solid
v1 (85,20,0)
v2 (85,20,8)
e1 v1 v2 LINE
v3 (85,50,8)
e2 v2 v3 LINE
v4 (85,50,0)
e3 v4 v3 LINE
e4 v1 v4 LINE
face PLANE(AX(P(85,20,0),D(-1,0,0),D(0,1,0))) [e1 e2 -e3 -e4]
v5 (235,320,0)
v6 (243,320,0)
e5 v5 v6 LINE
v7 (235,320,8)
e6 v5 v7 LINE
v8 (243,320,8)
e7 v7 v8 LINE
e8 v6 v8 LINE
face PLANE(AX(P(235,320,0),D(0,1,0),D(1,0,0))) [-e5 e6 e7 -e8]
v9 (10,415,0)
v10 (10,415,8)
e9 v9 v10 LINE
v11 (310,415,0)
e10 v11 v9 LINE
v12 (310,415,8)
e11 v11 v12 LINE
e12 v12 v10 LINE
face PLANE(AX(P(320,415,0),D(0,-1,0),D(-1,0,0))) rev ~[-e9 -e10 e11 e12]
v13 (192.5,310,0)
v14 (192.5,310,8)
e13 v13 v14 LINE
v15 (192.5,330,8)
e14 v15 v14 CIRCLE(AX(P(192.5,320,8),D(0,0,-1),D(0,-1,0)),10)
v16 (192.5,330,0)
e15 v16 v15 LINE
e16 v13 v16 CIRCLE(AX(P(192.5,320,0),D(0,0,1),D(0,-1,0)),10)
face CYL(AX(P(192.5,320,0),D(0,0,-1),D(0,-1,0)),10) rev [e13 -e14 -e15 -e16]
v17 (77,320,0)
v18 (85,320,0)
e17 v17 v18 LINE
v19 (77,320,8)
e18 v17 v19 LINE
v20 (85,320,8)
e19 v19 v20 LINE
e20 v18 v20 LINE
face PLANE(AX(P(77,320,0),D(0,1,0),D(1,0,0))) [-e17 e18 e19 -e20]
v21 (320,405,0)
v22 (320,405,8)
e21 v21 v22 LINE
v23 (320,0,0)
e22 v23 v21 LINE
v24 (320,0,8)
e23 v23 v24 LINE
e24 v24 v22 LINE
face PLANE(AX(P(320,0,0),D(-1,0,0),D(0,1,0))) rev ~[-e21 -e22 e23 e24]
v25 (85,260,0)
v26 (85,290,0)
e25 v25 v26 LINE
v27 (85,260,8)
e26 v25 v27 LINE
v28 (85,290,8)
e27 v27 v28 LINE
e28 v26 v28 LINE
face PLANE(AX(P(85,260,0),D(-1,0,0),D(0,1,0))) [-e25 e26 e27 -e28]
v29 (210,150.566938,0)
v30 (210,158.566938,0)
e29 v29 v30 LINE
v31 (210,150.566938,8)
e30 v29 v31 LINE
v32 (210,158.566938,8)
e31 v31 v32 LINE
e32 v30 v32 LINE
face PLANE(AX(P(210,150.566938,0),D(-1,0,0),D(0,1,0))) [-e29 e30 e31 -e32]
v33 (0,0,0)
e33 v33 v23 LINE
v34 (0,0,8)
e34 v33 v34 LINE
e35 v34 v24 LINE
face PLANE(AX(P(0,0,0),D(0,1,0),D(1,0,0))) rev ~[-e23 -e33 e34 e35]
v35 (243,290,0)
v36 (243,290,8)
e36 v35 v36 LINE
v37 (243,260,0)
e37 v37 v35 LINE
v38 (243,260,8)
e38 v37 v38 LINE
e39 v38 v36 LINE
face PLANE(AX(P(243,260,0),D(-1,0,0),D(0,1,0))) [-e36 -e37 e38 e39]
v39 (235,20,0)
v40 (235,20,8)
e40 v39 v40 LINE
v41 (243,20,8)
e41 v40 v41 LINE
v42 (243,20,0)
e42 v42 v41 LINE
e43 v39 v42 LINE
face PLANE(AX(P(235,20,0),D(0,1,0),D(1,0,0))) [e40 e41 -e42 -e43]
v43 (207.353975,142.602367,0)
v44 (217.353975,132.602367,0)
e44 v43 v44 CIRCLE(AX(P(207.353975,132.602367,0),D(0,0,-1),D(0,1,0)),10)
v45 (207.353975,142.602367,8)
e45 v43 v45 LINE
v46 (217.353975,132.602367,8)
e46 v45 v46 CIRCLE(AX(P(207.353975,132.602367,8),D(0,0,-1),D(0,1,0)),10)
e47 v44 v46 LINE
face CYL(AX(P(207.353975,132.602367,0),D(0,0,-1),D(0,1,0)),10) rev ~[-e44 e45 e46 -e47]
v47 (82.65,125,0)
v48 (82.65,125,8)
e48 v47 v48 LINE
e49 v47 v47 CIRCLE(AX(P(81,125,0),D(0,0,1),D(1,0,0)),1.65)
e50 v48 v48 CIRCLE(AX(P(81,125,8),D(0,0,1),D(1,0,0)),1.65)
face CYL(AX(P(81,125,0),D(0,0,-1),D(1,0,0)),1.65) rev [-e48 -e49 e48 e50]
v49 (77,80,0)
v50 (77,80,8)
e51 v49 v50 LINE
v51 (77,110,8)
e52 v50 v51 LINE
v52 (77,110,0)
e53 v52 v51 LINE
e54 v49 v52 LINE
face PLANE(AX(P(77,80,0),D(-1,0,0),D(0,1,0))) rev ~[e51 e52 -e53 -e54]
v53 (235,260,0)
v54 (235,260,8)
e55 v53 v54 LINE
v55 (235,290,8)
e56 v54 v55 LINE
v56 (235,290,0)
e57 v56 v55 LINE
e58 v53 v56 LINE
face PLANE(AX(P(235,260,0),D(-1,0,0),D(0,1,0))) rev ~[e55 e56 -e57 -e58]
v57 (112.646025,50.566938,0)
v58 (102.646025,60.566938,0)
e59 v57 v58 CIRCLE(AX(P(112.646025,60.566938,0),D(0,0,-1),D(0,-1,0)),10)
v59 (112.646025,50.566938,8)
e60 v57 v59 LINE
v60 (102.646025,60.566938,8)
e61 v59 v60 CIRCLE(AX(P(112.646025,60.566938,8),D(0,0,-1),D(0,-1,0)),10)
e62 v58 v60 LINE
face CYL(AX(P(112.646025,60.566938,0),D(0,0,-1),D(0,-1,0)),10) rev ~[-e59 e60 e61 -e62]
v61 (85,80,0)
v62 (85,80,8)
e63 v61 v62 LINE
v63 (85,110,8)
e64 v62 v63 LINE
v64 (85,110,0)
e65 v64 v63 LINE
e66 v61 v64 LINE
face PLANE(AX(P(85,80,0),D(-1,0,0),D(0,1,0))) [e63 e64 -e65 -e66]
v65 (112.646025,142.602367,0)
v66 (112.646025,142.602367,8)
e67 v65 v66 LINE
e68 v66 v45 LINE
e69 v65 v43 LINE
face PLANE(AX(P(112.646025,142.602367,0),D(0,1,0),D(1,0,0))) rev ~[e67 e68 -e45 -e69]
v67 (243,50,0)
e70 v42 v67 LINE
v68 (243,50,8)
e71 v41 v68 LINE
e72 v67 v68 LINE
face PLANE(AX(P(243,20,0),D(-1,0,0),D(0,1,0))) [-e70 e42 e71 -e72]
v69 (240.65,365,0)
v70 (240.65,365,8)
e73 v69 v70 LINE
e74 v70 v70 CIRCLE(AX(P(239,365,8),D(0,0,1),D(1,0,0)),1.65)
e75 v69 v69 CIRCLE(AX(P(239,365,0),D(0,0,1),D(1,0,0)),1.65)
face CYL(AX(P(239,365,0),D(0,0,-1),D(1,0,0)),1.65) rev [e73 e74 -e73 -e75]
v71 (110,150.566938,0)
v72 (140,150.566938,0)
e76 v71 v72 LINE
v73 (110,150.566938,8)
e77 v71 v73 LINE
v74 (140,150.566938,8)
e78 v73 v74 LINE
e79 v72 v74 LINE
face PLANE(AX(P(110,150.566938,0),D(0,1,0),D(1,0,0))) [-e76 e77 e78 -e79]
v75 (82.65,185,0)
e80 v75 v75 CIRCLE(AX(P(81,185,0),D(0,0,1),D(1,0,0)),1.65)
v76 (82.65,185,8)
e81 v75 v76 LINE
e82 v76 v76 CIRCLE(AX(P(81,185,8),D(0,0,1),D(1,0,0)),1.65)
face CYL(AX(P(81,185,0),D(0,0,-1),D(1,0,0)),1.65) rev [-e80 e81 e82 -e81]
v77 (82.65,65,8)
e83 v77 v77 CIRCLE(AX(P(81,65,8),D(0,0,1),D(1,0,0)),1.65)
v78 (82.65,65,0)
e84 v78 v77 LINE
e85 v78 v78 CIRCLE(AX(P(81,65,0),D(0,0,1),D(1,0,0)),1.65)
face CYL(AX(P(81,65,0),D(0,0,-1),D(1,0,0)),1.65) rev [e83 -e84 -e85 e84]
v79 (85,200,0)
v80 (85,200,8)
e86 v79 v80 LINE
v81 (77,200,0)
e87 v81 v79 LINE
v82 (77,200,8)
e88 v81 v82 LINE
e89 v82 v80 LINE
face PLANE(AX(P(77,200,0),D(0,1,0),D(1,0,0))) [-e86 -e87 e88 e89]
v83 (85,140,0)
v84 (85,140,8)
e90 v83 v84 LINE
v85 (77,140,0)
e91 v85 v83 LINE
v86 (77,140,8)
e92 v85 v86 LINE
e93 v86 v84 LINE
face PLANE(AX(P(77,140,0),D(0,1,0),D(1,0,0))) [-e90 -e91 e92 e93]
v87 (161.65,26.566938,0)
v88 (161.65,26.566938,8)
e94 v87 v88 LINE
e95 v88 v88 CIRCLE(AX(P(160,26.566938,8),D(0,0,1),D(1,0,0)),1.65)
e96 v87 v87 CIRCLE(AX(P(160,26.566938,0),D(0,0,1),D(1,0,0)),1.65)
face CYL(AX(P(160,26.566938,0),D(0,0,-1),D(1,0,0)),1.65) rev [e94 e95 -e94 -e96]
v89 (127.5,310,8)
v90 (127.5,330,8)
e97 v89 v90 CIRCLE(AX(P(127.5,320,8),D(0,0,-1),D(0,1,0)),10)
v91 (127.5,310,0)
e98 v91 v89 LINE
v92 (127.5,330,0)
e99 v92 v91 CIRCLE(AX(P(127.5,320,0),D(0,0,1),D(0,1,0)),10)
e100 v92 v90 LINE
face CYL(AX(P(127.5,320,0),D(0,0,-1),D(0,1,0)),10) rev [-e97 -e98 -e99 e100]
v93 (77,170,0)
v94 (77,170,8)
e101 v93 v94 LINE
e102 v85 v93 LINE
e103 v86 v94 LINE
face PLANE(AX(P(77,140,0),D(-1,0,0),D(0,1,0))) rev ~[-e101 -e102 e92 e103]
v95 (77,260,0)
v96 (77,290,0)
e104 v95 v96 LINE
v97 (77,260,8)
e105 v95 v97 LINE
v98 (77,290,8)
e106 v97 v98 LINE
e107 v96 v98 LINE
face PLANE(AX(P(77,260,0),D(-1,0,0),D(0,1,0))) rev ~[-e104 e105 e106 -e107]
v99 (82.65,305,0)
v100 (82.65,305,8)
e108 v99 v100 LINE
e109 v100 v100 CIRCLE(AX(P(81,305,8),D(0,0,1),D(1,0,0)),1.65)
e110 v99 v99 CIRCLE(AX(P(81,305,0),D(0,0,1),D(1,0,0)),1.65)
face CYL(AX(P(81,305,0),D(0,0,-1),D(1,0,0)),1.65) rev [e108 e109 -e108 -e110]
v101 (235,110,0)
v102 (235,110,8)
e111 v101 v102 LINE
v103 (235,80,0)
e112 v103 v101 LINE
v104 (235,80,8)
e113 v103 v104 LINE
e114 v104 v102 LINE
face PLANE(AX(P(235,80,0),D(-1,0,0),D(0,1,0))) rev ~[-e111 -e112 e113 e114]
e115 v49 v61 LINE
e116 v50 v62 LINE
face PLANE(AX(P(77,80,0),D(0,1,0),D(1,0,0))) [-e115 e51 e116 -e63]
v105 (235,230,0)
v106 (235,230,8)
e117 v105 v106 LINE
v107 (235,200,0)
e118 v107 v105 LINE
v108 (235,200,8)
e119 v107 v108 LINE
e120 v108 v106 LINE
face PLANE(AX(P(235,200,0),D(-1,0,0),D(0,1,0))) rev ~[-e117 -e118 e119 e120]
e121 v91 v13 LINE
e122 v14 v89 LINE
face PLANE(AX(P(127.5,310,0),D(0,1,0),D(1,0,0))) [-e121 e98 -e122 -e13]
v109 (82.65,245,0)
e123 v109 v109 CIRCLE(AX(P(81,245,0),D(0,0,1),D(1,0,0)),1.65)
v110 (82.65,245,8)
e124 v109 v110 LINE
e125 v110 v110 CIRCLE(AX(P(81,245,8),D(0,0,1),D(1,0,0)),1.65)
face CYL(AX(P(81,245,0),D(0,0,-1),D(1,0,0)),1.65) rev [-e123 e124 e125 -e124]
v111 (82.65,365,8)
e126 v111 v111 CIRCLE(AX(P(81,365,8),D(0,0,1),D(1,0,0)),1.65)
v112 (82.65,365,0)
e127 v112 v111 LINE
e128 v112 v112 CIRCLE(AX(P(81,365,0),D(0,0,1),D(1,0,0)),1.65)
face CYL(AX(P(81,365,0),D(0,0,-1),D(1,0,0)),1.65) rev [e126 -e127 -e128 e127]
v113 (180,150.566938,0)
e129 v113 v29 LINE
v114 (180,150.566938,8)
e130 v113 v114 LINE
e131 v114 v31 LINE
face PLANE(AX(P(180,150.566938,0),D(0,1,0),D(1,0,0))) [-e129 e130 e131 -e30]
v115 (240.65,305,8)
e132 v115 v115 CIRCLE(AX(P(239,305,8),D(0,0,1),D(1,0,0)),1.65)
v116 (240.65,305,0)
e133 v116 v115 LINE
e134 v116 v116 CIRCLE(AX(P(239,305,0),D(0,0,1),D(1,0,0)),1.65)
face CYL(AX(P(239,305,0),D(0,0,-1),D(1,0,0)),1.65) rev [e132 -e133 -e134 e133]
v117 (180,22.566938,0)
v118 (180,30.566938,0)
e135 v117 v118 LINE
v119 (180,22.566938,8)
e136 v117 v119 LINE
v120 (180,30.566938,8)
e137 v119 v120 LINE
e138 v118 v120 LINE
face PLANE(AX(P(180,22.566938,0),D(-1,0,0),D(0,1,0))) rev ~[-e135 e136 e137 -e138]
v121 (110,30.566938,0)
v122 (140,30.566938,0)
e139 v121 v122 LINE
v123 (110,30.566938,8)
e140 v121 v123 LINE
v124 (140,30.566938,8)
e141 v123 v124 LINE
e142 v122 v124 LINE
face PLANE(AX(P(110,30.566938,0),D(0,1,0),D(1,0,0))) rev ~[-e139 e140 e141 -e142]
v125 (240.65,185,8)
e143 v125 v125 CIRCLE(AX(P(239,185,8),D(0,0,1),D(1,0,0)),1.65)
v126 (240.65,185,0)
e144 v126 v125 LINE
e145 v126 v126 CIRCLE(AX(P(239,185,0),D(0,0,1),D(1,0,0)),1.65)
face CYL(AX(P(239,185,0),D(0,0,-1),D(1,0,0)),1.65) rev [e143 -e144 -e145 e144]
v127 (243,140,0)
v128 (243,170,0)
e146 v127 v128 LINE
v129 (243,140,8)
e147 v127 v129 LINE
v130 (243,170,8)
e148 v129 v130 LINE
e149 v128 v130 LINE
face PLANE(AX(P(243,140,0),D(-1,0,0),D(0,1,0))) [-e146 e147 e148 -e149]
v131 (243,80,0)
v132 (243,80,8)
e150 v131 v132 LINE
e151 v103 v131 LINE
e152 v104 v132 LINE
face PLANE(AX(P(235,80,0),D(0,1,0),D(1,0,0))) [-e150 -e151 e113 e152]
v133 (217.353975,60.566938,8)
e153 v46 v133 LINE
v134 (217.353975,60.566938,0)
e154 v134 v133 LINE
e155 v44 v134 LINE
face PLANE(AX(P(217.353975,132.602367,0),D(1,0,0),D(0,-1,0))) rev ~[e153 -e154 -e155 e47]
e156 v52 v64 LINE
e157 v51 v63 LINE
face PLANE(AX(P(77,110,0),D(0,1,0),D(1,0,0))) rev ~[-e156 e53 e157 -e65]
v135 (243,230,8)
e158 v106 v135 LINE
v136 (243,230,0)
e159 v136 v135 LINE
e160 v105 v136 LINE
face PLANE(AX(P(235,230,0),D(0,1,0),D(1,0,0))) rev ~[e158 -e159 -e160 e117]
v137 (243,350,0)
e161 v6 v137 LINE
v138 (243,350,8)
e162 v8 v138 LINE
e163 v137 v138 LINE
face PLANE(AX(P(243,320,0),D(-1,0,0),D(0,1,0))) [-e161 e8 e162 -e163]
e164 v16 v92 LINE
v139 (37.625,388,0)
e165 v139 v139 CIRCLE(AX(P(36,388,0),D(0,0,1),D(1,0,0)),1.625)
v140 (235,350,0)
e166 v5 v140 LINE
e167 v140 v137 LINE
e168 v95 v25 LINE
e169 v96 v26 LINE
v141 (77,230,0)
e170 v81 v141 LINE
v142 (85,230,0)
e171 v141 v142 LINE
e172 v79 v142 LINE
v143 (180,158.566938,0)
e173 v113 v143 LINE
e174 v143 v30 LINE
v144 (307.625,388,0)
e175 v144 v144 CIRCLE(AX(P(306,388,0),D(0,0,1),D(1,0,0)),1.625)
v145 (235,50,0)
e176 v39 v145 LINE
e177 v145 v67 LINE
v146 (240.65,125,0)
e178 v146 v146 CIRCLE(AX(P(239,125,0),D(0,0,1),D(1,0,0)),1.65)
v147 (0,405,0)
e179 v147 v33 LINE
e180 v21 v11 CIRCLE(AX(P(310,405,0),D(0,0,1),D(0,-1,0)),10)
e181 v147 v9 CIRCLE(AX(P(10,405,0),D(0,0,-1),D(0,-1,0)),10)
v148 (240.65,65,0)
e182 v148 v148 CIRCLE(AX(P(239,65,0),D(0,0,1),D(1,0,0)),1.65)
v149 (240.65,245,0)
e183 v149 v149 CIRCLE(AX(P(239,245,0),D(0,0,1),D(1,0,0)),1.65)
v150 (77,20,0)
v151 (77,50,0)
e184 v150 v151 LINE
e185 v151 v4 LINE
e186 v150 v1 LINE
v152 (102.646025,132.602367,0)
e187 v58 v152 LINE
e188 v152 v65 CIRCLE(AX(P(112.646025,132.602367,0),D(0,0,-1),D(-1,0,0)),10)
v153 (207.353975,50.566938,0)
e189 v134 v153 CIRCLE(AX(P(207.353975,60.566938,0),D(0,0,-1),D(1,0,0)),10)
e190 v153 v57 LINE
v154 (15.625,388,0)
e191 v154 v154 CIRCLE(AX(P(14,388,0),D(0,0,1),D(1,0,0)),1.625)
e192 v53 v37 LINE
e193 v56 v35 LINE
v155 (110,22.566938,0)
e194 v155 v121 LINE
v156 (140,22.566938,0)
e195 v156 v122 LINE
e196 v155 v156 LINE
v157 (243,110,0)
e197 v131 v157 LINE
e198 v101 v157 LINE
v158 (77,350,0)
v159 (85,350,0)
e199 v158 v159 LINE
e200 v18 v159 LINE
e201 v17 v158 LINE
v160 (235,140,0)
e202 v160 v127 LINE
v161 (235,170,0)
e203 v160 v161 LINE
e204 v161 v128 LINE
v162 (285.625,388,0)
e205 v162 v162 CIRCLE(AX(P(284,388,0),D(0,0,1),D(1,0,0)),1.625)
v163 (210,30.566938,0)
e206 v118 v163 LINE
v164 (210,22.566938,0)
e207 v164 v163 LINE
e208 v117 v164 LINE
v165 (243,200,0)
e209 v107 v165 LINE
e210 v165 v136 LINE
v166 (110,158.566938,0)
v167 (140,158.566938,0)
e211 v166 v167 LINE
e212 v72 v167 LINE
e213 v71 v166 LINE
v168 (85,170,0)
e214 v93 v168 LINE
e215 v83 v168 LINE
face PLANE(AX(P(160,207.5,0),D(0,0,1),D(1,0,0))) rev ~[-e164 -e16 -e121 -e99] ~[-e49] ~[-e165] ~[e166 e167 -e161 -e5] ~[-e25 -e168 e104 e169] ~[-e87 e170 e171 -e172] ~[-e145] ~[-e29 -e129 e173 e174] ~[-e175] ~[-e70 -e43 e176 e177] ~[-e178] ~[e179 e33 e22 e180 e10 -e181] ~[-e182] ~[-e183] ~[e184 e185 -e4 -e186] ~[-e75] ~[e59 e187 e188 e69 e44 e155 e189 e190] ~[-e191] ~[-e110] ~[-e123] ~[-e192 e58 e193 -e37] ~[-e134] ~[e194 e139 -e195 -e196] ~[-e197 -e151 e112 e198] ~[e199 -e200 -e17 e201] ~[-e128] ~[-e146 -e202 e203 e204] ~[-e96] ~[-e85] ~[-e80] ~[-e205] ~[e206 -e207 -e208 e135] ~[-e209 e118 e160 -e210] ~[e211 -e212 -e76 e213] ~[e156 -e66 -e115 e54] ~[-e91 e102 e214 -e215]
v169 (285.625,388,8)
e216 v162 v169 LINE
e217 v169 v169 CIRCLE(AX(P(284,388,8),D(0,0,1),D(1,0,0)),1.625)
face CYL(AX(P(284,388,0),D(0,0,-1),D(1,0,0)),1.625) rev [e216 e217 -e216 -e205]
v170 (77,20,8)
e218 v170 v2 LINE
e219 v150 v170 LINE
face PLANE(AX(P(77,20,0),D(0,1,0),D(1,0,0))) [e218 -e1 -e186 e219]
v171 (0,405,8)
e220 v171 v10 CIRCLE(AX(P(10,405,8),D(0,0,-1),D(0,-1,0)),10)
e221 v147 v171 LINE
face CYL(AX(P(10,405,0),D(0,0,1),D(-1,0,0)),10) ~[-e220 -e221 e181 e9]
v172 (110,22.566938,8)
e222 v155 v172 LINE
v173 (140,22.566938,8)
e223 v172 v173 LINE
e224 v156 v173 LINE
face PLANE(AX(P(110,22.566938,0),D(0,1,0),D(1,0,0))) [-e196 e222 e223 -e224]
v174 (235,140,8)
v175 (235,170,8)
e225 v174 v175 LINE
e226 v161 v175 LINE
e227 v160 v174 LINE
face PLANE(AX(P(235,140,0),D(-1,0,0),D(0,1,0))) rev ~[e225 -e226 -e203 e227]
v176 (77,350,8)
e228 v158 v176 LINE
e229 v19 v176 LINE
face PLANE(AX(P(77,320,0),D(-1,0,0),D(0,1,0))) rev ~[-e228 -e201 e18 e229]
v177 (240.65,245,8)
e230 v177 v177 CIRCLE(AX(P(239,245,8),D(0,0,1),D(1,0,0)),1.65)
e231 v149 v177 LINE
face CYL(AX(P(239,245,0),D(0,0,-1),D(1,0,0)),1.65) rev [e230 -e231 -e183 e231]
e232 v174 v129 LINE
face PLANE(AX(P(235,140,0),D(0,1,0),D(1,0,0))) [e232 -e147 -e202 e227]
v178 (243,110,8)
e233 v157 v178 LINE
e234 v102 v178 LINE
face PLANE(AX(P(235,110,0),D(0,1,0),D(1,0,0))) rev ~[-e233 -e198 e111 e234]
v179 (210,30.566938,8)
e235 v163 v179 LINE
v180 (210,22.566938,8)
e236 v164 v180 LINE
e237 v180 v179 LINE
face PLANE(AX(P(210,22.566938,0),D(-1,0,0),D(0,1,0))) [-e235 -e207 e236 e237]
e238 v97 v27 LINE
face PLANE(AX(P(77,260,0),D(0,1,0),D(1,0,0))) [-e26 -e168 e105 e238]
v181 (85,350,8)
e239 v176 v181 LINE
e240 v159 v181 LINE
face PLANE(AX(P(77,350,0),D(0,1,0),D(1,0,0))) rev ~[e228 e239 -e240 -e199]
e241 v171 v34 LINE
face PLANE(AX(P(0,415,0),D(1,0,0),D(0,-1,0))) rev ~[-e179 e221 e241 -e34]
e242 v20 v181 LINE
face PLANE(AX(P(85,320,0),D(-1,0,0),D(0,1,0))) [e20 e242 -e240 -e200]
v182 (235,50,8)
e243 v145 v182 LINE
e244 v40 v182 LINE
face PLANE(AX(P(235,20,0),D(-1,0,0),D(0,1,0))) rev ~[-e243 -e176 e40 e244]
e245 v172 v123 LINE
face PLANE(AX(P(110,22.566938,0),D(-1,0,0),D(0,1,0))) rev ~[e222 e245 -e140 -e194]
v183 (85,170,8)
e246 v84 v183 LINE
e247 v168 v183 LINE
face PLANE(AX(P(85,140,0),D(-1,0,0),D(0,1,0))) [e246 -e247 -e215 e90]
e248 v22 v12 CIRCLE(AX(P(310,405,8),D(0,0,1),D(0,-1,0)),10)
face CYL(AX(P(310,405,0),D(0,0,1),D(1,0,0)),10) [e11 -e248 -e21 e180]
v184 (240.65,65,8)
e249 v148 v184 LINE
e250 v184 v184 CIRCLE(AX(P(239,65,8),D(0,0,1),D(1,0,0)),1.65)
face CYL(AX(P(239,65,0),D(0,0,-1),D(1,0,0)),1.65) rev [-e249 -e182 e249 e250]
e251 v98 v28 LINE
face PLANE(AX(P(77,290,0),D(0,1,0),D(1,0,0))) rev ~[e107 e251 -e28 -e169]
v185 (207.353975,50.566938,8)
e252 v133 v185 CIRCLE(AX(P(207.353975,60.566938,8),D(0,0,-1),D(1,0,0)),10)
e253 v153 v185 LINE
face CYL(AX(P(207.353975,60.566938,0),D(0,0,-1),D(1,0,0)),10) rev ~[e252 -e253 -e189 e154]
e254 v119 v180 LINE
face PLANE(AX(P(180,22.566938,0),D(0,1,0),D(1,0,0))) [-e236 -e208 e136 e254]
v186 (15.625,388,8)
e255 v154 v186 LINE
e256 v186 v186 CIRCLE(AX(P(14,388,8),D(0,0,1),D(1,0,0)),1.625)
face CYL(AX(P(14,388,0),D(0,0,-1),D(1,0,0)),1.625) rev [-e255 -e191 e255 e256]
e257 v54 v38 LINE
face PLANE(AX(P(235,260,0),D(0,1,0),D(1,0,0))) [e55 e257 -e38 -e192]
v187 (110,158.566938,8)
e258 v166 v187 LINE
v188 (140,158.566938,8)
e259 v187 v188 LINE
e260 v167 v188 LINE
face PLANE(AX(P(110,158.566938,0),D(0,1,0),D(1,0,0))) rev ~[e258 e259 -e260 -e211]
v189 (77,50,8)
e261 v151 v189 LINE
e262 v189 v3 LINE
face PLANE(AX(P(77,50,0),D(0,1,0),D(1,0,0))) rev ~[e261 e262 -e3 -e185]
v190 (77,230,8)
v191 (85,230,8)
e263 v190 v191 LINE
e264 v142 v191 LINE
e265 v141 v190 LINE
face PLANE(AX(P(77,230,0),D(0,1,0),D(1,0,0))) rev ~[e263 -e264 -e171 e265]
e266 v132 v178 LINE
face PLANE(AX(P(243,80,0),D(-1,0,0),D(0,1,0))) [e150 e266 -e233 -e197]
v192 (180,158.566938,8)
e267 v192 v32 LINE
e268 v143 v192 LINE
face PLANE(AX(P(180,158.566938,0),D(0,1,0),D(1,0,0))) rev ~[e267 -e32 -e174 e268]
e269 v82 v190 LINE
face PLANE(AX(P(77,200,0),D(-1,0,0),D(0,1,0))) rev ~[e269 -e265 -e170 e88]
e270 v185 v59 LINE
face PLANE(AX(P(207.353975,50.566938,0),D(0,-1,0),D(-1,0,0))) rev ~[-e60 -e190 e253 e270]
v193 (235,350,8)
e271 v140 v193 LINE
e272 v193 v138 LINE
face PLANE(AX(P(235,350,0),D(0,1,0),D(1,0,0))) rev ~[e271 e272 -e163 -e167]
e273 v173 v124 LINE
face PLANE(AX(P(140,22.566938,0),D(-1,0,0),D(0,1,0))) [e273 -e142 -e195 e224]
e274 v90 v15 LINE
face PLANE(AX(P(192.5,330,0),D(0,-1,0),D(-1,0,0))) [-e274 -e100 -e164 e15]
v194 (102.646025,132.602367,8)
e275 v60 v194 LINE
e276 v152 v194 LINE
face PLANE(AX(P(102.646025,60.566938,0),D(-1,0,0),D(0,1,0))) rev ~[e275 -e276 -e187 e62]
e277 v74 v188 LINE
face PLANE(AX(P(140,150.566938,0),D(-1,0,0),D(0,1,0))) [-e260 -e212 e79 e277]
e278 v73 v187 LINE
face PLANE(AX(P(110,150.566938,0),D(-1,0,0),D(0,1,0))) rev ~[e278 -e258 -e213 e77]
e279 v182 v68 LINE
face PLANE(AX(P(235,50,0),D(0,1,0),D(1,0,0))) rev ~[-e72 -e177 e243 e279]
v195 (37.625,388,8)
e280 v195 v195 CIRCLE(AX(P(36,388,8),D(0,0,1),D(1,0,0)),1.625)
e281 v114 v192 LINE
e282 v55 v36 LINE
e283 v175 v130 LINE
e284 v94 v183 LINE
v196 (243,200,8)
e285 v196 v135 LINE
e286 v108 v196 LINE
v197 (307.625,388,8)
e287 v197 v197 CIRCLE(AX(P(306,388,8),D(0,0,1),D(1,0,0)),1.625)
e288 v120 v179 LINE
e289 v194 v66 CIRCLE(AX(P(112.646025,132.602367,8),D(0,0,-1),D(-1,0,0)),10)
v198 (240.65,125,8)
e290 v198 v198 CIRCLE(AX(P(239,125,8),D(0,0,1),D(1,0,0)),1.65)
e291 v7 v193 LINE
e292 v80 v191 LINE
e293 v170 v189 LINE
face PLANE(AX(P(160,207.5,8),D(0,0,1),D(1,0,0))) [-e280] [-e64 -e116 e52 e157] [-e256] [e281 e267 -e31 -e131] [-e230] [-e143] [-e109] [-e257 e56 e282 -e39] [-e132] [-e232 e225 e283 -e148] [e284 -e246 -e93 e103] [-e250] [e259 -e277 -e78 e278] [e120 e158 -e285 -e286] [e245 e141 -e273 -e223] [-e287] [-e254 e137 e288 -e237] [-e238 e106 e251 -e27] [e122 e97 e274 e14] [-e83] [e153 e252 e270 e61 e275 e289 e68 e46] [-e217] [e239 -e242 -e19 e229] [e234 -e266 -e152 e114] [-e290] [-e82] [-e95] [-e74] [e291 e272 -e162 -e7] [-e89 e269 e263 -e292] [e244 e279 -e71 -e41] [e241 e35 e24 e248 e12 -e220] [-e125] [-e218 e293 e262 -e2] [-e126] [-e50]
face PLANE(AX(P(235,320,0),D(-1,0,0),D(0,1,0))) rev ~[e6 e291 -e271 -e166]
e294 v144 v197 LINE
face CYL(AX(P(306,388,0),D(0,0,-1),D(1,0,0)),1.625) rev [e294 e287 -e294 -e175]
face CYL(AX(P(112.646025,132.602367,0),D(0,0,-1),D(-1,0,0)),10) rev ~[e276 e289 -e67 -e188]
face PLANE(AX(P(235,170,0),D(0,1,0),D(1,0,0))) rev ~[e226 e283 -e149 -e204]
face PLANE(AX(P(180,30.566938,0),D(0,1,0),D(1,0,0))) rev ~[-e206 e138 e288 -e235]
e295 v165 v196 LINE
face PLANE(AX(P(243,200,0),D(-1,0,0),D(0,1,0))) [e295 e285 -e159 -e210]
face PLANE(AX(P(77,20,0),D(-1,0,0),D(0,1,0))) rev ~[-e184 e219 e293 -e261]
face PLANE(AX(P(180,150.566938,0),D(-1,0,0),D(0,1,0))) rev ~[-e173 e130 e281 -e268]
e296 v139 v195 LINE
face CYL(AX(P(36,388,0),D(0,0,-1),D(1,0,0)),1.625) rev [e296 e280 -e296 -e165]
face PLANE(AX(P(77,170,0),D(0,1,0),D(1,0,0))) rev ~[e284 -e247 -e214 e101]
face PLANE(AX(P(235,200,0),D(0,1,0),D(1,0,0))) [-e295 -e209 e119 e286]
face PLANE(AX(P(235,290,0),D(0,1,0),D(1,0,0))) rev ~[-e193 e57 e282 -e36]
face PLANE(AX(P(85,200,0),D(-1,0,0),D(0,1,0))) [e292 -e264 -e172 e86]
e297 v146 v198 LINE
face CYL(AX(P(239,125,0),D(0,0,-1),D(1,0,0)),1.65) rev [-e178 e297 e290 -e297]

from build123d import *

# Parameters (mm, degrees)
SKETCH1_R           = 1.625
SKETCH1_R_2         = 1.65
SKETCH1_W           = 8
SKETCH1_H           = 30
SKETCH1_W_2         = 30
SKETCH1_H_2         = 8
BOSS_EXTRUDE1_DEPTH = 8
FILLET1_R           = 10
CUT_EXTRUDE1_DEPTH  = 9


with BuildPart() as part:
    # Sketch1 → Boss-Extrude1 (new body)
    with BuildSketch(Plane.XY):
        Polygon((0, 0), (320, 0), (320, 415), (160, 415), (0, 415), align=None)
        with Locations((14, 388)):
            Circle(SKETCH1_R, mode=Mode.SUBTRACT)
        with Locations((36, 388)):
            Circle(SKETCH1_R, mode=Mode.SUBTRACT)
        with Locations((284, 388)):
            Circle(SKETCH1_R, mode=Mode.SUBTRACT)
        with Locations((306, 388)):
            Circle(SKETCH1_R, mode=Mode.SUBTRACT)
        with Locations((81, 65)):
            Circle(SKETCH1_R_2, mode=Mode.SUBTRACT)
        with Locations((239, 65)):
            Circle(SKETCH1_R_2, mode=Mode.SUBTRACT)
        with Locations((81, 125)):
            Circle(SKETCH1_R_2, mode=Mode.SUBTRACT)
        with Locations((239, 125)):
            Circle(SKETCH1_R_2, mode=Mode.SUBTRACT)
        with Locations((81, 185)):
            Circle(SKETCH1_R_2, mode=Mode.SUBTRACT)
        with Locations((239, 185)):
            Circle(SKETCH1_R_2, mode=Mode.SUBTRACT)
        with Locations((81, 245)):
            Circle(SKETCH1_R_2, mode=Mode.SUBTRACT)
        with Locations((239, 245)):
            Circle(SKETCH1_R_2, mode=Mode.SUBTRACT)
        with Locations((81, 305)):
            Circle(SKETCH1_R_2, mode=Mode.SUBTRACT)
        with Locations((239, 305)):
            Circle(SKETCH1_R_2, mode=Mode.SUBTRACT)
        with Locations((81, 365)):
            Circle(SKETCH1_R_2, mode=Mode.SUBTRACT)
        with Locations((239, 365)):
            Circle(SKETCH1_R_2, mode=Mode.SUBTRACT)
        with Locations((160, 26.566938385)):
            Circle(SKETCH1_R_2, mode=Mode.SUBTRACT)
        with BuildLine():
            Line((112.646025267, 142.602367126), (207.353974733, 142.602367126))
            ThreePointArc((207.353974733, 142.602367126), (214.425042545, 139.673434938), (217.353974733, 132.602367126))
            Line((217.353974733, 132.602367126), (217.353974733, 60.566938385))
            ThreePointArc((217.353974733, 60.566938385), (214.425042545, 53.495870573), (207.353974733, 50.566938385))
            Line((207.353974733, 50.566938385), (112.646025267, 50.566938385))
            ThreePointArc((112.646025267, 50.566938385), (105.574957455, 53.495870573), (102.646025267, 60.566938385))
            Line((102.646025267, 60.566938385), (102.646025267, 132.602367126))
            ThreePointArc((102.646025267, 132.602367126), (105.574957455, 139.673434938), (112.646025267, 142.602367126))
        make_face(mode=Mode.SUBTRACT)
        with Locations((81, 35)):
            Rectangle(SKETCH1_W, SKETCH1_H, mode=Mode.SUBTRACT)
        with Locations((195, 26.566938385)):
            Rectangle(SKETCH1_W_2, SKETCH1_H_2, mode=Mode.SUBTRACT)
        with Locations((125, 26.566938385)):
            Rectangle(SKETCH1_W_2, SKETCH1_H_2, mode=Mode.SUBTRACT)
        with Locations((125, 154.566938385)):
            Rectangle(SKETCH1_W_2, SKETCH1_H_2, mode=Mode.SUBTRACT)
        with Locations((195, 154.566938385)):
            Rectangle(SKETCH1_W_2, SKETCH1_H_2, mode=Mode.SUBTRACT)
        with Locations((239, 35)):
            Rectangle(SKETCH1_W, SKETCH1_H, mode=Mode.SUBTRACT)
        with Locations((81, 95)):
            Rectangle(SKETCH1_W, SKETCH1_H, mode=Mode.SUBTRACT)
        with Locations((239, 95)):
            Rectangle(SKETCH1_W, SKETCH1_H, mode=Mode.SUBTRACT)
        with Locations((81, 155)):
            Rectangle(SKETCH1_W, SKETCH1_H, mode=Mode.SUBTRACT)
        with Locations((239, 155)):
            Rectangle(SKETCH1_W, SKETCH1_H, mode=Mode.SUBTRACT)
        with Locations((81, 215)):
            Rectangle(SKETCH1_W, SKETCH1_H, mode=Mode.SUBTRACT)
        with Locations((239, 215)):
            Rectangle(SKETCH1_W, SKETCH1_H, mode=Mode.SUBTRACT)
        with Locations((81, 275)):
            Rectangle(SKETCH1_W, SKETCH1_H, mode=Mode.SUBTRACT)
        with Locations((239, 275)):
            Rectangle(SKETCH1_W, SKETCH1_H, mode=Mode.SUBTRACT)
        with Locations((81, 335)):
            Rectangle(SKETCH1_W, SKETCH1_H, mode=Mode.SUBTRACT)
        with Locations((239, 335)):
            Rectangle(SKETCH1_W, SKETCH1_H, mode=Mode.SUBTRACT)
    extrude(amount=BOSS_EXTRUDE1_DEPTH)

    # Fillet1
    fillet1_edges = [part.edges().sort_by_distance(p)[0] for p in [
        (0, 415, 4),
        (320, 415, 4),
    ]]
    fillet(fillet1_edges, radius=FILLET1_R)

    # Sketch2 → Cut-Extrude1 (cut, through all)
    with BuildSketch(Plane(origin=(0, 0, 0), x_dir=(-1, 0, 0), z_dir=(0, 0, -1))):
        with BuildLine():
            Line((-192.5, 330), (-127.5, 330))
            ThreePointArc((-127.5, 330), (-117.5, 320), (-127.5, 310))
            Line((-127.5, 310), (-192.5, 310))
            ThreePointArc((-192.5, 310), (-202.5, 320), (-192.5, 330))
        make_face()
    extrude(amount=-CUT_EXTRUDE1_DEPTH, mode=Mode.SUBTRACT)


solid = part.part
